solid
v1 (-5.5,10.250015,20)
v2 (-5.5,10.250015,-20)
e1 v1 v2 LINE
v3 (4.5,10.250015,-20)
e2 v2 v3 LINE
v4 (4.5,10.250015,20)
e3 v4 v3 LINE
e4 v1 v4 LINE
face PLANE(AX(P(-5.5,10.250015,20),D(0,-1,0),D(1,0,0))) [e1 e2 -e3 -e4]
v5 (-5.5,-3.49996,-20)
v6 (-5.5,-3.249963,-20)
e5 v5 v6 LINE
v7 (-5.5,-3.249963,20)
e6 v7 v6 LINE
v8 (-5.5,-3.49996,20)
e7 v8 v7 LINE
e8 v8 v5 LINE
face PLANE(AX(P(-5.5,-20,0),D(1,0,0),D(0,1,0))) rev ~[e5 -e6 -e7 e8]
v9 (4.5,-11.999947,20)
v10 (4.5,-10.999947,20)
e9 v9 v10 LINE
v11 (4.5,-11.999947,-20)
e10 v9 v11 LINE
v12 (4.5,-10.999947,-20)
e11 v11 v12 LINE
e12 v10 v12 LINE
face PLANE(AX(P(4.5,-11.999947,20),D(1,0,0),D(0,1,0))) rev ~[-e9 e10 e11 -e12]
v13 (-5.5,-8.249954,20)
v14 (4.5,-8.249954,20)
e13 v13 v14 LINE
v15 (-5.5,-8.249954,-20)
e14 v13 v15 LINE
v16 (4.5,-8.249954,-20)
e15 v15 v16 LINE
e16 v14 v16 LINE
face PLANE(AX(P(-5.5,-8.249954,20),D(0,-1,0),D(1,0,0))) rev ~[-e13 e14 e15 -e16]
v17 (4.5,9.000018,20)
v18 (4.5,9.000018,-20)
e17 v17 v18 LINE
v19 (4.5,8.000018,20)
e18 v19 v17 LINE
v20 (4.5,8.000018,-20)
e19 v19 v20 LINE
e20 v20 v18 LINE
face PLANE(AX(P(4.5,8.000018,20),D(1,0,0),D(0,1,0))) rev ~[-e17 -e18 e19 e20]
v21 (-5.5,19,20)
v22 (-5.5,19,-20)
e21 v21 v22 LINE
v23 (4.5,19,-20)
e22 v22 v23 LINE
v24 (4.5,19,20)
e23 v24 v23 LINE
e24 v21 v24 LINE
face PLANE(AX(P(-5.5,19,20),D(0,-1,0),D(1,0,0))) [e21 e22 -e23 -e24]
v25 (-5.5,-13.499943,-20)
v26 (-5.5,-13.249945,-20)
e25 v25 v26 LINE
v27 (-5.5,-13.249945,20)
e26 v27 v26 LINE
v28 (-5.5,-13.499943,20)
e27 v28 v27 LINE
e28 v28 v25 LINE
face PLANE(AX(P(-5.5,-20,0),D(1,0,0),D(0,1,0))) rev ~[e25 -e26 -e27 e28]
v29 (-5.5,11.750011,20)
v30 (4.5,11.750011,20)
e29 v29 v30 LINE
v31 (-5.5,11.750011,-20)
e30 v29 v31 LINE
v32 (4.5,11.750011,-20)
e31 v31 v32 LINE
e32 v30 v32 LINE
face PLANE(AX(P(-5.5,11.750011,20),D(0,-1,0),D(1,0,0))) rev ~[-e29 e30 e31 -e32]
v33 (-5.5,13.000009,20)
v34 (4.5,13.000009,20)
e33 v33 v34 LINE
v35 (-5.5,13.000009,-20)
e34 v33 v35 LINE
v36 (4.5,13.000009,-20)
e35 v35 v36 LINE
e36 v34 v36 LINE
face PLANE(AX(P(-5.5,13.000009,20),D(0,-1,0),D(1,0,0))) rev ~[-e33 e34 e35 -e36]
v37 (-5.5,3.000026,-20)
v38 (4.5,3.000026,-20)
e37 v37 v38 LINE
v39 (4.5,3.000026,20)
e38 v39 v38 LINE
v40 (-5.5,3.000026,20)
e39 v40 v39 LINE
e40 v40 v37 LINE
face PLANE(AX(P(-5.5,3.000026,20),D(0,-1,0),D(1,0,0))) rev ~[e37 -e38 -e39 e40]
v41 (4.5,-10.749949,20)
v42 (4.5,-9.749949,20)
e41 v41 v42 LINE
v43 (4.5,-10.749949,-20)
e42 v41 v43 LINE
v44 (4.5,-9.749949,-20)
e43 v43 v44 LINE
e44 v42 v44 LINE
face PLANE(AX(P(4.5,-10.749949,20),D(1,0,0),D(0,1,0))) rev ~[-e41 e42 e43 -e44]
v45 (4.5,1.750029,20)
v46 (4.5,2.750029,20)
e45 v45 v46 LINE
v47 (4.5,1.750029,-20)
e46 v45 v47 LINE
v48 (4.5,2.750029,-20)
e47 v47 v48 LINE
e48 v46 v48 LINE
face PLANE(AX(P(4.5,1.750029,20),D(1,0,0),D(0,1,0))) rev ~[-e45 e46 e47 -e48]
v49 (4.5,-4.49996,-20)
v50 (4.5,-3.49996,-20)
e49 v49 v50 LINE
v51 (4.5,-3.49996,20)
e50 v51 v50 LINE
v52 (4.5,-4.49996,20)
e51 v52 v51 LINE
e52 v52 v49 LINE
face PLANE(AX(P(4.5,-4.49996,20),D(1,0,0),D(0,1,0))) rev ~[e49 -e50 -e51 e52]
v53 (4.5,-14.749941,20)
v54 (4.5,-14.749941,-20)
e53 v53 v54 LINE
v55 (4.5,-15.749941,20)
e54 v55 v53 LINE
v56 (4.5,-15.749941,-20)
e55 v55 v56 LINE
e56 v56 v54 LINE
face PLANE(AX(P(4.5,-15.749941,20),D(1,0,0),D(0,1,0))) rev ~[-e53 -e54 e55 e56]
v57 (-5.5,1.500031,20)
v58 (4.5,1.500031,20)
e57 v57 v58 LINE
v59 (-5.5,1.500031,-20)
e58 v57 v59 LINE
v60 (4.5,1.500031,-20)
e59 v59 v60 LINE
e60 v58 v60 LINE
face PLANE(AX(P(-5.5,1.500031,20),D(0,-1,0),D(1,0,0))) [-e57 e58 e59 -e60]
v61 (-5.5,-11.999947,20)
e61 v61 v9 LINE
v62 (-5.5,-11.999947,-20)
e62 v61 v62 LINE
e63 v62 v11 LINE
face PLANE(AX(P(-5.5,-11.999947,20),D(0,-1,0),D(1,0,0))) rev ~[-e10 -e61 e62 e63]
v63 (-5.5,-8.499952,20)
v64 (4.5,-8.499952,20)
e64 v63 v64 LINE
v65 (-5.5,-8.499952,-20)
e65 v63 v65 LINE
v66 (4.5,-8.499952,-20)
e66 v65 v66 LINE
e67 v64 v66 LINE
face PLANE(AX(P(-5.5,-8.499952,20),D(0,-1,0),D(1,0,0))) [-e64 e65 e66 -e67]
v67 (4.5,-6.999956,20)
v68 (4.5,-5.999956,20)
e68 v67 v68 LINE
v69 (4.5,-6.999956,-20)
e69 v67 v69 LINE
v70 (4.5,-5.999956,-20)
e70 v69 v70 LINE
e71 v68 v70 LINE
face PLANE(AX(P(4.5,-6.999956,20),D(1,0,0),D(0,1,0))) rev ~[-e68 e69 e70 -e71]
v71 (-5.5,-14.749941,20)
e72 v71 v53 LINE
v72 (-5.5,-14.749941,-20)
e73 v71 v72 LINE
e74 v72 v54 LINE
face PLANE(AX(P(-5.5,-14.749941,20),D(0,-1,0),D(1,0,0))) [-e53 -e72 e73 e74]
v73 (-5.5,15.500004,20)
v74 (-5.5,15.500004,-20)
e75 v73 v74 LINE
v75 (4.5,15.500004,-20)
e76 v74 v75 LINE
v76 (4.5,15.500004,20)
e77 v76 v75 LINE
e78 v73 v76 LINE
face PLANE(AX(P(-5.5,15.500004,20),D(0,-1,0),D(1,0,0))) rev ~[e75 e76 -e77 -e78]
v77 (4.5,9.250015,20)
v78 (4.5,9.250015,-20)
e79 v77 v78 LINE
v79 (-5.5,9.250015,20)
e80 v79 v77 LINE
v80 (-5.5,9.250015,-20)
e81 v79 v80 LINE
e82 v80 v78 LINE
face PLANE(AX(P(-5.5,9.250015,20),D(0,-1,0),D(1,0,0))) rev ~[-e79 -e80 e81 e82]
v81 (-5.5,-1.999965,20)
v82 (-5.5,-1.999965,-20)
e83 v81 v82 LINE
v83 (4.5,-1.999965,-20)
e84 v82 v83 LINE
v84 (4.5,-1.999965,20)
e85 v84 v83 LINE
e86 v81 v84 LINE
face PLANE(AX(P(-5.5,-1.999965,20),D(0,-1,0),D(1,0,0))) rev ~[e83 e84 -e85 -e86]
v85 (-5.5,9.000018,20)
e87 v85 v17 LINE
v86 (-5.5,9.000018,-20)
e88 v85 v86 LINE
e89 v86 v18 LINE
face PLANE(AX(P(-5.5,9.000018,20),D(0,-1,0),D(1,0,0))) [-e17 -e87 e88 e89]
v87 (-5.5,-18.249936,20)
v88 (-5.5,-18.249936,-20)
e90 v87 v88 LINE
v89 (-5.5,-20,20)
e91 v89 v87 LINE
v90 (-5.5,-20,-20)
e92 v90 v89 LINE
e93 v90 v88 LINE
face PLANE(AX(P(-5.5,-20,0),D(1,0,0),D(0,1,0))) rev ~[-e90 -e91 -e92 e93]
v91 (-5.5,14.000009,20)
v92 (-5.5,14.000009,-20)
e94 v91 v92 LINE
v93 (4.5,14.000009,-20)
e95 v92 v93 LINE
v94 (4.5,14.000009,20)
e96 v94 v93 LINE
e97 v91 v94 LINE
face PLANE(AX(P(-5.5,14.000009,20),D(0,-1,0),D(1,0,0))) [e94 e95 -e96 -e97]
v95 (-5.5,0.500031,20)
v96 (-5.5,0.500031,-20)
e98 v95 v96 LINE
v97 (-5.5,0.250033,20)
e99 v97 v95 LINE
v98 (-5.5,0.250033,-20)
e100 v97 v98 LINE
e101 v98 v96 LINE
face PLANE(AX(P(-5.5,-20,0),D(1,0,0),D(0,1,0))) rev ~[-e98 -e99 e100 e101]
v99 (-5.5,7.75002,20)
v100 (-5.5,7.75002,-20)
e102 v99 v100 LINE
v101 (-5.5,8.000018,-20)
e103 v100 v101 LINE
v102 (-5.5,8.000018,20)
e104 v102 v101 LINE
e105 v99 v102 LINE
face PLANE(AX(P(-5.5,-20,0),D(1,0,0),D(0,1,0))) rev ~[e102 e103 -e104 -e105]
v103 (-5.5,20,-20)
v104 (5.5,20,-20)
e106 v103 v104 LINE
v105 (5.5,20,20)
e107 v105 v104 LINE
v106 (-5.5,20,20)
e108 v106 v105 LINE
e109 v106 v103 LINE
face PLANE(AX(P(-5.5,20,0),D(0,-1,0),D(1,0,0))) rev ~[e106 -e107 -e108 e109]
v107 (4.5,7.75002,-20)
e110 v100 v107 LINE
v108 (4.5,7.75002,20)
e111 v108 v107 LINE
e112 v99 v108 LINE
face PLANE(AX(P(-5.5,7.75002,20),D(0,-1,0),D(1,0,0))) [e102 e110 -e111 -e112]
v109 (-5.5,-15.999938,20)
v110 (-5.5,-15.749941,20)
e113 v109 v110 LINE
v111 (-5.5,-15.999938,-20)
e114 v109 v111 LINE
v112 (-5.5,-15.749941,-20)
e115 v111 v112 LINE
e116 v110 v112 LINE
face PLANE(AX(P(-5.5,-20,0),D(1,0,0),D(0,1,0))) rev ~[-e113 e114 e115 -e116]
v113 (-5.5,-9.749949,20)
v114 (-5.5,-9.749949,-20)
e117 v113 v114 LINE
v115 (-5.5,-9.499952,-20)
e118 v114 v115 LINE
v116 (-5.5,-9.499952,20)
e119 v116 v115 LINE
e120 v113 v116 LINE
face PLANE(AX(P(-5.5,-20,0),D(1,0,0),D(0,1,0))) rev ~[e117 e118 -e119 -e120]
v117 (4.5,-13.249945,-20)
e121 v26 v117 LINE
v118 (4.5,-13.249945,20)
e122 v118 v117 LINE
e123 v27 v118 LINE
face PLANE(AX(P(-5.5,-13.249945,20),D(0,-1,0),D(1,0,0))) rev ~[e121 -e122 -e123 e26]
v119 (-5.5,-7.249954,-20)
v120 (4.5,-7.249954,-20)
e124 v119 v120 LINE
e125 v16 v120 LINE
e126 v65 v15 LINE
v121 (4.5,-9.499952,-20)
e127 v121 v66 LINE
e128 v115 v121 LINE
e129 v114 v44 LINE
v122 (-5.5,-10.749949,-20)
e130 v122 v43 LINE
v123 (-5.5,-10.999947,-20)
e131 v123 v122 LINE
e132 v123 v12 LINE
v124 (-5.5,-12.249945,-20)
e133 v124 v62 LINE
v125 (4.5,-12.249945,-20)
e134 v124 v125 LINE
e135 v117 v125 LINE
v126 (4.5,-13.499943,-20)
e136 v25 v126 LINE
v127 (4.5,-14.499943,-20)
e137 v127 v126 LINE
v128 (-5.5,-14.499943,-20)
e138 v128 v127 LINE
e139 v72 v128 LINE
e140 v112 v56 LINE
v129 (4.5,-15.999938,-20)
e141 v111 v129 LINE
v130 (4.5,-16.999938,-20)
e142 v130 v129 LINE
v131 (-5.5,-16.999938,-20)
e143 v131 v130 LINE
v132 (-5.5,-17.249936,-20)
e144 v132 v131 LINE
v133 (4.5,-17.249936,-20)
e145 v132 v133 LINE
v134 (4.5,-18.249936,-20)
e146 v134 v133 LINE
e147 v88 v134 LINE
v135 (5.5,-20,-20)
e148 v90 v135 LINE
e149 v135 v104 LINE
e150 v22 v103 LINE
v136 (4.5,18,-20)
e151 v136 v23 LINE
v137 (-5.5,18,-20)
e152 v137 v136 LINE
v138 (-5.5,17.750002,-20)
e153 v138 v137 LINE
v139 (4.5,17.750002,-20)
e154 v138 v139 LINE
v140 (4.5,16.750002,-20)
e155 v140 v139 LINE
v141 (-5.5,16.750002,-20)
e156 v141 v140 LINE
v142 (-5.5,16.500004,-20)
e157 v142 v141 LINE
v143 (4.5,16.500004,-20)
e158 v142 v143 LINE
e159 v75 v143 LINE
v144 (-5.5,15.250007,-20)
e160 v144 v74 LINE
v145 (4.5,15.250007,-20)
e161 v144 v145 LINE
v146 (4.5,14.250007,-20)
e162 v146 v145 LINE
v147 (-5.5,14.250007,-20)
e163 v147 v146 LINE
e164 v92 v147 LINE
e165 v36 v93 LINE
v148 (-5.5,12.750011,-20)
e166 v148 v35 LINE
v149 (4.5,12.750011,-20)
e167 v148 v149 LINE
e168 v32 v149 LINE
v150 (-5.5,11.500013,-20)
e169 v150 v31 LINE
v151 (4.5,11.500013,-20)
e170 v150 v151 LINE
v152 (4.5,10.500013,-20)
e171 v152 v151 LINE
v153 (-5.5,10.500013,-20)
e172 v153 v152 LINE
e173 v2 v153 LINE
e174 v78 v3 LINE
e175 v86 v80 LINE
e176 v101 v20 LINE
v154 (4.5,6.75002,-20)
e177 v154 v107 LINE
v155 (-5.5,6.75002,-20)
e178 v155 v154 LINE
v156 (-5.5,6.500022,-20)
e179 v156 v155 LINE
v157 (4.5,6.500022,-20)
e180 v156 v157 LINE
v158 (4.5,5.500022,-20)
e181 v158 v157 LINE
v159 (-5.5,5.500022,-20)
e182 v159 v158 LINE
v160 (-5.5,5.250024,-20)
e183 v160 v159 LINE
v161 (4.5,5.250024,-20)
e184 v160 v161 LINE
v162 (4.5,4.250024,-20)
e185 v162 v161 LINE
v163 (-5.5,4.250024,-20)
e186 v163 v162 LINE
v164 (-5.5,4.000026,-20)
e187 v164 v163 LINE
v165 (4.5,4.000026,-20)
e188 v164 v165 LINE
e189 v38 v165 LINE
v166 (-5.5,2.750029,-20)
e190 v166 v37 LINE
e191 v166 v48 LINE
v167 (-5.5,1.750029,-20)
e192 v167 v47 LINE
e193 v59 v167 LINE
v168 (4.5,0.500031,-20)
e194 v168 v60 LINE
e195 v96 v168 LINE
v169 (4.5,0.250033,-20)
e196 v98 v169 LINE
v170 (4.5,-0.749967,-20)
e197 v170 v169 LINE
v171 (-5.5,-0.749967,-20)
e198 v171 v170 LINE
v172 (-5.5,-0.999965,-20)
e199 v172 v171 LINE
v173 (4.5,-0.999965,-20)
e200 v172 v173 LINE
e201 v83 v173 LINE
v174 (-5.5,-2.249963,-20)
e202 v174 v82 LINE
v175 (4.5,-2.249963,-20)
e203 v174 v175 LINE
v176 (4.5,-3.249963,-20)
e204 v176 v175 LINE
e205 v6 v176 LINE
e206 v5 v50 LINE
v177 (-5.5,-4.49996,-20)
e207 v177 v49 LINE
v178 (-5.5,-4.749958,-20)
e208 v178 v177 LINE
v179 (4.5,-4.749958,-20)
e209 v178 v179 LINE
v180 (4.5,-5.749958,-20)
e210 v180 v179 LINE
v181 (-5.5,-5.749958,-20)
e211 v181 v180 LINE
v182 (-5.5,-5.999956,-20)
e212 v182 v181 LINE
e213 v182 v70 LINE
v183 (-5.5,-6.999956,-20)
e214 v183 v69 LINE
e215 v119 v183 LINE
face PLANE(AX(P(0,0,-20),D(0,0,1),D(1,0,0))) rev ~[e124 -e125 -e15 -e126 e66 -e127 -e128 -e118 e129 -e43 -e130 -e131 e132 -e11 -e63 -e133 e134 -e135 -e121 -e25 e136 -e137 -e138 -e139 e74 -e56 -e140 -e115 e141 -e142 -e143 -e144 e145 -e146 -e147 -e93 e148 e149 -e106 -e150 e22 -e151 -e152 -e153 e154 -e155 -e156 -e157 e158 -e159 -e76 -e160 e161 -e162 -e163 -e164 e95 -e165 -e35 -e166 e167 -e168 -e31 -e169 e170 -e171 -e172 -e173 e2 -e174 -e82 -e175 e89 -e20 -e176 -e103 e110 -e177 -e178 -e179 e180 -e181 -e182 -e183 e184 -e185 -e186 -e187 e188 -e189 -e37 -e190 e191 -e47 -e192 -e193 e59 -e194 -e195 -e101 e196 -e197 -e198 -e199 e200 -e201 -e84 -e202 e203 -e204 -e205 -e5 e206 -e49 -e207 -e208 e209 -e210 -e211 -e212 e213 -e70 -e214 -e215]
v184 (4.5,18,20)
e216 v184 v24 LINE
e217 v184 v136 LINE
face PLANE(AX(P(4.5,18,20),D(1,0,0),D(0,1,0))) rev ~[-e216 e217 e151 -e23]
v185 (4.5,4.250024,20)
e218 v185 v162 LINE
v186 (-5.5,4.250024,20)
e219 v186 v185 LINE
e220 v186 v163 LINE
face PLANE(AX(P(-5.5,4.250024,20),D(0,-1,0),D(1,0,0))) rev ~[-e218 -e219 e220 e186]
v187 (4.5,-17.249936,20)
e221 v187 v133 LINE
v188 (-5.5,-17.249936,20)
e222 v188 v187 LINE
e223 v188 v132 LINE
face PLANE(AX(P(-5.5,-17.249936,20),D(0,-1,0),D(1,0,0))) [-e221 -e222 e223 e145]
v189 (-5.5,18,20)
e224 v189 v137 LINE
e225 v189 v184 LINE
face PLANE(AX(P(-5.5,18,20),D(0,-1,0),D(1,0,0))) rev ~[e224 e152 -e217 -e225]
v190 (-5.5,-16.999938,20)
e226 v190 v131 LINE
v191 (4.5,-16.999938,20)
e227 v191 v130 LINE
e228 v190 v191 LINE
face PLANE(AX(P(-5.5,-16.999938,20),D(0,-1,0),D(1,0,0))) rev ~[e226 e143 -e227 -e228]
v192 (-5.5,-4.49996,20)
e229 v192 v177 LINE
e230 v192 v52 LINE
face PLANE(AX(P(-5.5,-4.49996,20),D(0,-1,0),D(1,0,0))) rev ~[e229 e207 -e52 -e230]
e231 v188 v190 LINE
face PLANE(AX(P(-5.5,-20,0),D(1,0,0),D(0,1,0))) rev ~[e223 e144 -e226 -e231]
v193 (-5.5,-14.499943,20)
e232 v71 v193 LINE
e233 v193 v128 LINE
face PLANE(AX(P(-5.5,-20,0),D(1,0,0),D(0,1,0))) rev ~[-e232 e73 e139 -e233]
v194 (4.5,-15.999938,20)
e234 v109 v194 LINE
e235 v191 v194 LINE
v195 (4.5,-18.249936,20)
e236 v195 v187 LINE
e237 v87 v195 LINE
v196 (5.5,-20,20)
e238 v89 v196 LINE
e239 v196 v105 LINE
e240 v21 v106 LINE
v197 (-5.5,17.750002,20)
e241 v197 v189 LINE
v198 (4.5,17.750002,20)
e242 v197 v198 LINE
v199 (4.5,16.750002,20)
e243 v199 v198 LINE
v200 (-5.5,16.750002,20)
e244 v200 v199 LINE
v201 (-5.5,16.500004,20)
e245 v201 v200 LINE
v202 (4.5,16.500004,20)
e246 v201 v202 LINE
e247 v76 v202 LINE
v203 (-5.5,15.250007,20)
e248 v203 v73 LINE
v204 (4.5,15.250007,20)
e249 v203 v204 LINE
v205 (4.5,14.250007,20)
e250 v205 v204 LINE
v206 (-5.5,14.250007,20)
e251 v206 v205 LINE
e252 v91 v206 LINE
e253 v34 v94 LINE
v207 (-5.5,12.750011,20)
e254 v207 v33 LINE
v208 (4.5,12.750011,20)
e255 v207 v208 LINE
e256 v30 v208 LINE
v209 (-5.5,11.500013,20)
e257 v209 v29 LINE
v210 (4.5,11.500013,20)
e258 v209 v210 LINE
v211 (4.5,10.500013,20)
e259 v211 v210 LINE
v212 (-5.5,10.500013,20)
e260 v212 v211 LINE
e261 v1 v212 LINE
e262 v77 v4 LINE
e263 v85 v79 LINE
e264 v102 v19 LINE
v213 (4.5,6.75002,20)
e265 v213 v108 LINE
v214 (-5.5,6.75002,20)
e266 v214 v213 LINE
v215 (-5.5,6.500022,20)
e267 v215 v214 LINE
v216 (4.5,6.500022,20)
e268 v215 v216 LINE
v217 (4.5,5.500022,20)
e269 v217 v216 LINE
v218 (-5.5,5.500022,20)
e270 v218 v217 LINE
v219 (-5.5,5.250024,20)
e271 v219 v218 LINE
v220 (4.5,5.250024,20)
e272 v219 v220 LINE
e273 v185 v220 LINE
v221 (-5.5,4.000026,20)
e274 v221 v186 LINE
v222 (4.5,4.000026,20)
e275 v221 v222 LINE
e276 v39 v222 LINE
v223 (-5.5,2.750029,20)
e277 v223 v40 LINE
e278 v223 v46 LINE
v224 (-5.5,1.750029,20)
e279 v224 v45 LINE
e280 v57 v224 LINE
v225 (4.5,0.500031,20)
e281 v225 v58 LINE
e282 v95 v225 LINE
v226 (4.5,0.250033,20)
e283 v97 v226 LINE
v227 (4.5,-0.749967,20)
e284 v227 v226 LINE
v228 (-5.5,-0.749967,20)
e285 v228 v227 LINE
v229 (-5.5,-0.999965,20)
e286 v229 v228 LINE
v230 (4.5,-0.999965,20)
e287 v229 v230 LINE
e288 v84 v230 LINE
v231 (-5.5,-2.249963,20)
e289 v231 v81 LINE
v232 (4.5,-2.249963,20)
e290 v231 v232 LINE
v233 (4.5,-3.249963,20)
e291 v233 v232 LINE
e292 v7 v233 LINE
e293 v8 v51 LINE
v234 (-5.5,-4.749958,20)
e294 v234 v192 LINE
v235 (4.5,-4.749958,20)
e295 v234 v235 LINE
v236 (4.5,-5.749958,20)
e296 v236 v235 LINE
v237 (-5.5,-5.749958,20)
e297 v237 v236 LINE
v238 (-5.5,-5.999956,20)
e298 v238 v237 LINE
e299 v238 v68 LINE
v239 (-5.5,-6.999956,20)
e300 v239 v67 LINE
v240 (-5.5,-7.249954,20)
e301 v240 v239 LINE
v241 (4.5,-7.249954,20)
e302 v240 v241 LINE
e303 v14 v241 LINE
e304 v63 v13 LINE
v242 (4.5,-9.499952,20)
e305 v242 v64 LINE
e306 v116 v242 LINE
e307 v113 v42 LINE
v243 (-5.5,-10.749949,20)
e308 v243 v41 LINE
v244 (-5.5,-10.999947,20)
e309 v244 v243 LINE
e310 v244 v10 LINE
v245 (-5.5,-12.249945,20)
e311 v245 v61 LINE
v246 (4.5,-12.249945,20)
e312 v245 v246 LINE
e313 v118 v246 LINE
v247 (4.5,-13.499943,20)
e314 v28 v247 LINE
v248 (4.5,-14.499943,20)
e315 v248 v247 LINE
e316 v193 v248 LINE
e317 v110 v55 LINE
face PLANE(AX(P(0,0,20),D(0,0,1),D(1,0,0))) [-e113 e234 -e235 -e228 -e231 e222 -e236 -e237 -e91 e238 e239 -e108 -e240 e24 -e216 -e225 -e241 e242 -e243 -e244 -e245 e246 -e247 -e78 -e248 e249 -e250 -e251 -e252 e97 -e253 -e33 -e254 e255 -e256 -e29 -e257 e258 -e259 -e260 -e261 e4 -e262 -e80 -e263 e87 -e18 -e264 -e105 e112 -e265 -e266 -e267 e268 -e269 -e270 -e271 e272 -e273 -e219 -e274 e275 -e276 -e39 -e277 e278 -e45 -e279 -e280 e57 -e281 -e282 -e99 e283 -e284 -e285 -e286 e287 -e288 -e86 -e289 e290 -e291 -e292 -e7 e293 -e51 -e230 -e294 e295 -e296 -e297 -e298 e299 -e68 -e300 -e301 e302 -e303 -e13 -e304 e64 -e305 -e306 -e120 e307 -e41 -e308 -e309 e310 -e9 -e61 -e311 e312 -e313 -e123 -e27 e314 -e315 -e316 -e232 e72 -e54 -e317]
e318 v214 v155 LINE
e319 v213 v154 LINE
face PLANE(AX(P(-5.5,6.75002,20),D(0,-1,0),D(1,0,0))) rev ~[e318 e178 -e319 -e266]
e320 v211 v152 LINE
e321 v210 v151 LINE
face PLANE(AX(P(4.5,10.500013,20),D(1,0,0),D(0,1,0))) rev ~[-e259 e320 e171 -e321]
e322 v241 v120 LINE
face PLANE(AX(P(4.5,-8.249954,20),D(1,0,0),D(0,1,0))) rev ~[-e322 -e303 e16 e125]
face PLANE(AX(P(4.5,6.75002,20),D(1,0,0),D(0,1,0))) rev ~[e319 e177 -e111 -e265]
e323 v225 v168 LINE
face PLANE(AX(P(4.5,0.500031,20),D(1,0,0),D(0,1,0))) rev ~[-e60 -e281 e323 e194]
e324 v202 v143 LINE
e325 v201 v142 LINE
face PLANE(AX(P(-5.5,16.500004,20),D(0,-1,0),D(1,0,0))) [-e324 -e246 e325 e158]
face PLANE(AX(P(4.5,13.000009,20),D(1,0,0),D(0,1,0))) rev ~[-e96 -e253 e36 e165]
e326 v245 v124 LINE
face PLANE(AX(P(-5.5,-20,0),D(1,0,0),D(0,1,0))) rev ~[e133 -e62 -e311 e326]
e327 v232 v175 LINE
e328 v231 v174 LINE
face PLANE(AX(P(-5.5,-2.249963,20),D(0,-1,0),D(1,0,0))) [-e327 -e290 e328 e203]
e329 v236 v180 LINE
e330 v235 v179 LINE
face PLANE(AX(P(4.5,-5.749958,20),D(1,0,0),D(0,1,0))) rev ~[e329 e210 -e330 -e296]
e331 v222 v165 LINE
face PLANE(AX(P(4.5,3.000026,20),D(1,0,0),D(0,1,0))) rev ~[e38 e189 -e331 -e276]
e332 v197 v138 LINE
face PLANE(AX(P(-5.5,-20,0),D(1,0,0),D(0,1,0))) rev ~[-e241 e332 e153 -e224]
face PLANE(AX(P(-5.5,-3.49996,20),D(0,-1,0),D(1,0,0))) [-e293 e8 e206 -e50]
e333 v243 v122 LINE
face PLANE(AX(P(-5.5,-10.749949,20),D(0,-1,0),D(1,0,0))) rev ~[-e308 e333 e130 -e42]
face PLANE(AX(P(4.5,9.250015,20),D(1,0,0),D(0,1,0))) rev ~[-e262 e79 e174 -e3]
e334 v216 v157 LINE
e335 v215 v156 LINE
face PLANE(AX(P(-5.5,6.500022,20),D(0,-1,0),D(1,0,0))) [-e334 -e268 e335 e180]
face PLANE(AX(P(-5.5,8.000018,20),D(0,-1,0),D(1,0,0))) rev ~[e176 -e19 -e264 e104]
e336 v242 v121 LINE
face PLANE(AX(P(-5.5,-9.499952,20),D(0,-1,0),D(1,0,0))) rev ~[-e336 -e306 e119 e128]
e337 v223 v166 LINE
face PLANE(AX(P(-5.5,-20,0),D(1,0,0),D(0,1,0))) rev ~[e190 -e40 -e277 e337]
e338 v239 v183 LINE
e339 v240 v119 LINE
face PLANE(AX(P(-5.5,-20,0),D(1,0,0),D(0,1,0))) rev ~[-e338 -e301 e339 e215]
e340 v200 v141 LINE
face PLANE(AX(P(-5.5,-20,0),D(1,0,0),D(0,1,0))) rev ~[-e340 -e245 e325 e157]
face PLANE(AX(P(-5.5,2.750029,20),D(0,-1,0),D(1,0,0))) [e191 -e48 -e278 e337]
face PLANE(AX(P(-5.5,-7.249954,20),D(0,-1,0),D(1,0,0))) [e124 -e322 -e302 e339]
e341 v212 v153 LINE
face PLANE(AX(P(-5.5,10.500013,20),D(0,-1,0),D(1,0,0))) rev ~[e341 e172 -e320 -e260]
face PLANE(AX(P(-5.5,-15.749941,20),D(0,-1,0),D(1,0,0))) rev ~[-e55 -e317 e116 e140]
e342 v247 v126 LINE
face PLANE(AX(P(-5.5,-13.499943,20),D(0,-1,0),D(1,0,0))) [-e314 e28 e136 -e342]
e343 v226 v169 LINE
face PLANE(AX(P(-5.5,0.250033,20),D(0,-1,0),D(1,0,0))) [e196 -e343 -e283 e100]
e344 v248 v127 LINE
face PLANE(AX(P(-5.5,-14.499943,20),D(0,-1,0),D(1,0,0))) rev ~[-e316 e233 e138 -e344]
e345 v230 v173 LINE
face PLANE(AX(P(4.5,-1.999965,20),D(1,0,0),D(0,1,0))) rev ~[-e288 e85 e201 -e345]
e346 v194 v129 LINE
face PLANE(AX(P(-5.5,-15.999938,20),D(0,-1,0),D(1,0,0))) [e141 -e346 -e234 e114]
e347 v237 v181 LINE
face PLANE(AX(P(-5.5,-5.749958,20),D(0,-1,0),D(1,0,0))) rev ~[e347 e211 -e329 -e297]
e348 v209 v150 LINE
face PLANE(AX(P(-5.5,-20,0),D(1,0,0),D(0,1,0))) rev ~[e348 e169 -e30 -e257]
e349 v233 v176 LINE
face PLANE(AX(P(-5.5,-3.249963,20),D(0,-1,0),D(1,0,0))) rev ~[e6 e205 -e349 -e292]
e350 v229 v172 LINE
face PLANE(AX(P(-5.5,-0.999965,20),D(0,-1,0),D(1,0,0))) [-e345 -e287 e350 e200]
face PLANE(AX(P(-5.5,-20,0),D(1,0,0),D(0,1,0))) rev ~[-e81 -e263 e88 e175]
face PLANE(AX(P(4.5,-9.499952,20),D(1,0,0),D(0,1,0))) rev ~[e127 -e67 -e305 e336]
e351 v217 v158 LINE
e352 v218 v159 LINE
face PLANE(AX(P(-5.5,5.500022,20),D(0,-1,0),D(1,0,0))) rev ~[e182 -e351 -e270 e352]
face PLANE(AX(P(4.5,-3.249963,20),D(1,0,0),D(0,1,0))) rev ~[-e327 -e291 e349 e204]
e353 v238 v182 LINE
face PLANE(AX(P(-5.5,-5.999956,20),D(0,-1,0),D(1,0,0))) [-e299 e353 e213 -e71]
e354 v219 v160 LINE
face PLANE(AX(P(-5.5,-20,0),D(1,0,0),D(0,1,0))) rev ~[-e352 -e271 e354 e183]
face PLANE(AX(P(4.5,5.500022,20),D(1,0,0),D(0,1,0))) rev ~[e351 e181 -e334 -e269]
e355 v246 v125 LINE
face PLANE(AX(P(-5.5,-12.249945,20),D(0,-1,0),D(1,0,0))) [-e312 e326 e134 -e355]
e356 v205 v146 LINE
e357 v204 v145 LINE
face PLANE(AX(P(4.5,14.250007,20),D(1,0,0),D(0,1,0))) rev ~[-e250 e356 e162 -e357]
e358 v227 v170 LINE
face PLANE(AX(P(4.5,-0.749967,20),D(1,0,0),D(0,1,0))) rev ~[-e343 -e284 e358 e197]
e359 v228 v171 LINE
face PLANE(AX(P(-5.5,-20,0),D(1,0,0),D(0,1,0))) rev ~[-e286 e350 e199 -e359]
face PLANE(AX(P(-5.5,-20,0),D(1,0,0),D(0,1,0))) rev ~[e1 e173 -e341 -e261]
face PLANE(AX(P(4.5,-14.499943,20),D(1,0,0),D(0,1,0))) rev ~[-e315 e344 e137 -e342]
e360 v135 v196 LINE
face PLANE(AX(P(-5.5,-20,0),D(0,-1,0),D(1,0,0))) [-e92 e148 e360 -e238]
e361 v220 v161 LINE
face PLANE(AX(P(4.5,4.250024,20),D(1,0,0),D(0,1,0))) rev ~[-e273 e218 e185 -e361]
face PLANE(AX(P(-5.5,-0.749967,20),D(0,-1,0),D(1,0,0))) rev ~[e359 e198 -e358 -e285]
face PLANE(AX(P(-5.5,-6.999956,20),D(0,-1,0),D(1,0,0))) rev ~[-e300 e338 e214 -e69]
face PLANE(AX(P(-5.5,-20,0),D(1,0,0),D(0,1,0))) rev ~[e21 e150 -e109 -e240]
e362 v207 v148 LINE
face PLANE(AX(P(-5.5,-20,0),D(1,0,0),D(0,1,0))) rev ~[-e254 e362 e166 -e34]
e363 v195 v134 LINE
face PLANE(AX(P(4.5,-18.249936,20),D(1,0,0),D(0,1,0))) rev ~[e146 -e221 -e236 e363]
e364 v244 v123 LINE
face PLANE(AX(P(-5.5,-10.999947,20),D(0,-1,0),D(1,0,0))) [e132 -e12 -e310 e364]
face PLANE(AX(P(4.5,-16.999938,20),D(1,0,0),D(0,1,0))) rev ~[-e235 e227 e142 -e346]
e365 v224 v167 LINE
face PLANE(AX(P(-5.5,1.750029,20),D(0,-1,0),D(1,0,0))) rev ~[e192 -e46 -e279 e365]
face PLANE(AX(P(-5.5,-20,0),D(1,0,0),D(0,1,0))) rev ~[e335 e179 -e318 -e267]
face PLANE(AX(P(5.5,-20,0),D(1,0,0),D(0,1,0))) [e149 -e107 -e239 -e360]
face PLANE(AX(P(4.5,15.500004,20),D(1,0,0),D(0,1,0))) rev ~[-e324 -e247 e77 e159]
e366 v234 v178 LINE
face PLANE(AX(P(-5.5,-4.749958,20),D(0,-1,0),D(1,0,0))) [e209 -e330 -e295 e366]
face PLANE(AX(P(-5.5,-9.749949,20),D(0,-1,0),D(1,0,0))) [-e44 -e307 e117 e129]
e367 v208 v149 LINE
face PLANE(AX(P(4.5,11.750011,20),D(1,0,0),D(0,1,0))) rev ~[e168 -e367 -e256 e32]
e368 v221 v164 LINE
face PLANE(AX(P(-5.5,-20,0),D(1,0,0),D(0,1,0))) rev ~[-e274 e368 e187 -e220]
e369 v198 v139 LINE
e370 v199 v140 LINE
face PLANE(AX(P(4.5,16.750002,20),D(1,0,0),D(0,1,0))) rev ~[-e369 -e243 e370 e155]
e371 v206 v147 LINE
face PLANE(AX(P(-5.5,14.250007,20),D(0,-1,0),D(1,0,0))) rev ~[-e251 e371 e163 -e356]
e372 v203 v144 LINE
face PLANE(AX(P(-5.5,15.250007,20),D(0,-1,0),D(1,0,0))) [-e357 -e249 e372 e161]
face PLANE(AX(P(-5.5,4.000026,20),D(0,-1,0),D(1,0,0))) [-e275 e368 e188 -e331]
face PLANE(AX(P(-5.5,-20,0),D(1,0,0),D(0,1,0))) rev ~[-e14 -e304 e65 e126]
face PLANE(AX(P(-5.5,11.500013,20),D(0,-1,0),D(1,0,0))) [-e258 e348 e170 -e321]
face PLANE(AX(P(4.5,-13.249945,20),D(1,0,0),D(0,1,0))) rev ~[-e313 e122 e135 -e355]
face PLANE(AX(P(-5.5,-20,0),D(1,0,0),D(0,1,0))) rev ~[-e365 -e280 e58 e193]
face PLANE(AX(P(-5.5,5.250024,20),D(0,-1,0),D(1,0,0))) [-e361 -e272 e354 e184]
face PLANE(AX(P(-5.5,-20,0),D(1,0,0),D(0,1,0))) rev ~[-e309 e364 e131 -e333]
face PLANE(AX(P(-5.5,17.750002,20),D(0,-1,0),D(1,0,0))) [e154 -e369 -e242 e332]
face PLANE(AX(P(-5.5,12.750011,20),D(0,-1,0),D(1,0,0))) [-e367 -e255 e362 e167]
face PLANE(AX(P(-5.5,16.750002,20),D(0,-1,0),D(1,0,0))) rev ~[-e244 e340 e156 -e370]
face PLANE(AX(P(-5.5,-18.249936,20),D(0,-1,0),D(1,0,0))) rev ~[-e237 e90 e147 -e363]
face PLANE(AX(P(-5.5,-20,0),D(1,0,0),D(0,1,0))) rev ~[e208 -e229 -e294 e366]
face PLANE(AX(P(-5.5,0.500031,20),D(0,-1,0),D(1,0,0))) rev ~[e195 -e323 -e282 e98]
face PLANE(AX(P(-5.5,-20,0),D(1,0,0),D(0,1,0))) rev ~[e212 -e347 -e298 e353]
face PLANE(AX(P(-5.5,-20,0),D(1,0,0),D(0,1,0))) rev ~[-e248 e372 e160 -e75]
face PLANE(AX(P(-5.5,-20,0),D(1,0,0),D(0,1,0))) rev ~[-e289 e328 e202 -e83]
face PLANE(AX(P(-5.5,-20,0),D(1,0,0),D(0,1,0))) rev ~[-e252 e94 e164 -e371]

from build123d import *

# Parameters (mm, degrees)
SKETCH1_W           = 11
SKETCH1_H           = 40
BOSS_EXTRUDE1_DEPTH = 20
SKETCH2_W           = 10
SKETCH2_H           = 1
CUT_EXTRUDE2_DEPTH  = 40


with BuildPart() as part:
    # Sketch1 → Boss-Extrude1 (new, symmetric)
    with BuildSketch(Plane.XY):
        Rectangle(SKETCH1_W, SKETCH1_H)
    extrude(amount=BOSS_EXTRUDE1_DEPTH, both=True)

    # Sketch2 → Cut-Extrude2 (cut)
    with BuildSketch(Plane.XY.offset(20)):
        with Locations((-0.5, 18.5)):
            Rectangle(SKETCH2_W, SKETCH2_H)
        with Locations((-0.5, 17.250002203)):
            Rectangle(SKETCH2_W, SKETCH2_H)
        with Locations((-0.5, 16.000004405)):
            Rectangle(SKETCH2_W, SKETCH2_H)
        with Locations((-0.5, 14.750006608)):
            Rectangle(SKETCH2_W, SKETCH2_H)
        with Locations((-0.5, 13.50000881)):
            Rectangle(SKETCH2_W, SKETCH2_H)
        with Locations((-0.5, 12.250011013)):
            Rectangle(SKETCH2_W, SKETCH2_H)
        with Locations((-0.5, 11.000013216)):
            Rectangle(SKETCH2_W, SKETCH2_H)
        with Locations((-0.5, 9.750015418)):
            Rectangle(SKETCH2_W, SKETCH2_H)
        with Locations((-0.5, 8.500017621)):
            Rectangle(SKETCH2_W, SKETCH2_H)
        with Locations((-0.5, 7.250019823)):
            Rectangle(SKETCH2_W, SKETCH2_H)
        with Locations((-0.5, 6.000022026)):
            Rectangle(SKETCH2_W, SKETCH2_H)
        with Locations((-0.5, 4.750024229)):
            Rectangle(SKETCH2_W, SKETCH2_H)
        with Locations((-0.5, 3.500026431)):
            Rectangle(SKETCH2_W, SKETCH2_H)
        with Locations((-0.5, 2.250028634)):
            Rectangle(SKETCH2_W, SKETCH2_H)
        with Locations((-0.5, 1.000030836)):
            Rectangle(SKETCH2_W, SKETCH2_H)
        with Locations((-0.5, -0.249966961)):
            Rectangle(SKETCH2_W, SKETCH2_H)
        with Locations((-0.5, -1.499964758)):
            Rectangle(SKETCH2_W, SKETCH2_H)
        with Locations((-0.5, -2.749962556)):
            Rectangle(SKETCH2_W, SKETCH2_H)
        with Locations((-0.5, -3.999960353)):
            Rectangle(SKETCH2_W, SKETCH2_H)
        with Locations((-0.5, -5.249958151)):
            Rectangle(SKETCH2_W, SKETCH2_H)
        with Locations((-0.5, -6.499955948)):
            Rectangle(SKETCH2_W, SKETCH2_H)
        with Locations((-0.5, -7.749953745)):
            Rectangle(SKETCH2_W, SKETCH2_H)
        with Locations((-0.5, -8.999951543)):
            Rectangle(SKETCH2_W, SKETCH2_H)
        with Locations((-0.5, -10.24994934)):
            Rectangle(SKETCH2_W, SKETCH2_H)
        with Locations((-0.5, -11.499947138)):
            Rectangle(SKETCH2_W, SKETCH2_H)
        with Locations((-0.5, -12.749944935)):
            Rectangle(SKETCH2_W, SKETCH2_H)
        with Locations((-0.5, -13.999942732)):
            Rectangle(SKETCH2_W, SKETCH2_H)
        with Locations((-0.5, -15.24994053)):
            Rectangle(SKETCH2_W, SKETCH2_H)
        with Locations((-0.5, -16.499938327)):
            Rectangle(SKETCH2_W, SKETCH2_H)
        with Locations((-0.5, -17.749936125)):
            Rectangle(SKETCH2_W, SKETCH2_H)
    extrude(amount=-CUT_EXTRUDE2_DEPTH, mode=Mode.SUBTRACT)


solid = part.part
